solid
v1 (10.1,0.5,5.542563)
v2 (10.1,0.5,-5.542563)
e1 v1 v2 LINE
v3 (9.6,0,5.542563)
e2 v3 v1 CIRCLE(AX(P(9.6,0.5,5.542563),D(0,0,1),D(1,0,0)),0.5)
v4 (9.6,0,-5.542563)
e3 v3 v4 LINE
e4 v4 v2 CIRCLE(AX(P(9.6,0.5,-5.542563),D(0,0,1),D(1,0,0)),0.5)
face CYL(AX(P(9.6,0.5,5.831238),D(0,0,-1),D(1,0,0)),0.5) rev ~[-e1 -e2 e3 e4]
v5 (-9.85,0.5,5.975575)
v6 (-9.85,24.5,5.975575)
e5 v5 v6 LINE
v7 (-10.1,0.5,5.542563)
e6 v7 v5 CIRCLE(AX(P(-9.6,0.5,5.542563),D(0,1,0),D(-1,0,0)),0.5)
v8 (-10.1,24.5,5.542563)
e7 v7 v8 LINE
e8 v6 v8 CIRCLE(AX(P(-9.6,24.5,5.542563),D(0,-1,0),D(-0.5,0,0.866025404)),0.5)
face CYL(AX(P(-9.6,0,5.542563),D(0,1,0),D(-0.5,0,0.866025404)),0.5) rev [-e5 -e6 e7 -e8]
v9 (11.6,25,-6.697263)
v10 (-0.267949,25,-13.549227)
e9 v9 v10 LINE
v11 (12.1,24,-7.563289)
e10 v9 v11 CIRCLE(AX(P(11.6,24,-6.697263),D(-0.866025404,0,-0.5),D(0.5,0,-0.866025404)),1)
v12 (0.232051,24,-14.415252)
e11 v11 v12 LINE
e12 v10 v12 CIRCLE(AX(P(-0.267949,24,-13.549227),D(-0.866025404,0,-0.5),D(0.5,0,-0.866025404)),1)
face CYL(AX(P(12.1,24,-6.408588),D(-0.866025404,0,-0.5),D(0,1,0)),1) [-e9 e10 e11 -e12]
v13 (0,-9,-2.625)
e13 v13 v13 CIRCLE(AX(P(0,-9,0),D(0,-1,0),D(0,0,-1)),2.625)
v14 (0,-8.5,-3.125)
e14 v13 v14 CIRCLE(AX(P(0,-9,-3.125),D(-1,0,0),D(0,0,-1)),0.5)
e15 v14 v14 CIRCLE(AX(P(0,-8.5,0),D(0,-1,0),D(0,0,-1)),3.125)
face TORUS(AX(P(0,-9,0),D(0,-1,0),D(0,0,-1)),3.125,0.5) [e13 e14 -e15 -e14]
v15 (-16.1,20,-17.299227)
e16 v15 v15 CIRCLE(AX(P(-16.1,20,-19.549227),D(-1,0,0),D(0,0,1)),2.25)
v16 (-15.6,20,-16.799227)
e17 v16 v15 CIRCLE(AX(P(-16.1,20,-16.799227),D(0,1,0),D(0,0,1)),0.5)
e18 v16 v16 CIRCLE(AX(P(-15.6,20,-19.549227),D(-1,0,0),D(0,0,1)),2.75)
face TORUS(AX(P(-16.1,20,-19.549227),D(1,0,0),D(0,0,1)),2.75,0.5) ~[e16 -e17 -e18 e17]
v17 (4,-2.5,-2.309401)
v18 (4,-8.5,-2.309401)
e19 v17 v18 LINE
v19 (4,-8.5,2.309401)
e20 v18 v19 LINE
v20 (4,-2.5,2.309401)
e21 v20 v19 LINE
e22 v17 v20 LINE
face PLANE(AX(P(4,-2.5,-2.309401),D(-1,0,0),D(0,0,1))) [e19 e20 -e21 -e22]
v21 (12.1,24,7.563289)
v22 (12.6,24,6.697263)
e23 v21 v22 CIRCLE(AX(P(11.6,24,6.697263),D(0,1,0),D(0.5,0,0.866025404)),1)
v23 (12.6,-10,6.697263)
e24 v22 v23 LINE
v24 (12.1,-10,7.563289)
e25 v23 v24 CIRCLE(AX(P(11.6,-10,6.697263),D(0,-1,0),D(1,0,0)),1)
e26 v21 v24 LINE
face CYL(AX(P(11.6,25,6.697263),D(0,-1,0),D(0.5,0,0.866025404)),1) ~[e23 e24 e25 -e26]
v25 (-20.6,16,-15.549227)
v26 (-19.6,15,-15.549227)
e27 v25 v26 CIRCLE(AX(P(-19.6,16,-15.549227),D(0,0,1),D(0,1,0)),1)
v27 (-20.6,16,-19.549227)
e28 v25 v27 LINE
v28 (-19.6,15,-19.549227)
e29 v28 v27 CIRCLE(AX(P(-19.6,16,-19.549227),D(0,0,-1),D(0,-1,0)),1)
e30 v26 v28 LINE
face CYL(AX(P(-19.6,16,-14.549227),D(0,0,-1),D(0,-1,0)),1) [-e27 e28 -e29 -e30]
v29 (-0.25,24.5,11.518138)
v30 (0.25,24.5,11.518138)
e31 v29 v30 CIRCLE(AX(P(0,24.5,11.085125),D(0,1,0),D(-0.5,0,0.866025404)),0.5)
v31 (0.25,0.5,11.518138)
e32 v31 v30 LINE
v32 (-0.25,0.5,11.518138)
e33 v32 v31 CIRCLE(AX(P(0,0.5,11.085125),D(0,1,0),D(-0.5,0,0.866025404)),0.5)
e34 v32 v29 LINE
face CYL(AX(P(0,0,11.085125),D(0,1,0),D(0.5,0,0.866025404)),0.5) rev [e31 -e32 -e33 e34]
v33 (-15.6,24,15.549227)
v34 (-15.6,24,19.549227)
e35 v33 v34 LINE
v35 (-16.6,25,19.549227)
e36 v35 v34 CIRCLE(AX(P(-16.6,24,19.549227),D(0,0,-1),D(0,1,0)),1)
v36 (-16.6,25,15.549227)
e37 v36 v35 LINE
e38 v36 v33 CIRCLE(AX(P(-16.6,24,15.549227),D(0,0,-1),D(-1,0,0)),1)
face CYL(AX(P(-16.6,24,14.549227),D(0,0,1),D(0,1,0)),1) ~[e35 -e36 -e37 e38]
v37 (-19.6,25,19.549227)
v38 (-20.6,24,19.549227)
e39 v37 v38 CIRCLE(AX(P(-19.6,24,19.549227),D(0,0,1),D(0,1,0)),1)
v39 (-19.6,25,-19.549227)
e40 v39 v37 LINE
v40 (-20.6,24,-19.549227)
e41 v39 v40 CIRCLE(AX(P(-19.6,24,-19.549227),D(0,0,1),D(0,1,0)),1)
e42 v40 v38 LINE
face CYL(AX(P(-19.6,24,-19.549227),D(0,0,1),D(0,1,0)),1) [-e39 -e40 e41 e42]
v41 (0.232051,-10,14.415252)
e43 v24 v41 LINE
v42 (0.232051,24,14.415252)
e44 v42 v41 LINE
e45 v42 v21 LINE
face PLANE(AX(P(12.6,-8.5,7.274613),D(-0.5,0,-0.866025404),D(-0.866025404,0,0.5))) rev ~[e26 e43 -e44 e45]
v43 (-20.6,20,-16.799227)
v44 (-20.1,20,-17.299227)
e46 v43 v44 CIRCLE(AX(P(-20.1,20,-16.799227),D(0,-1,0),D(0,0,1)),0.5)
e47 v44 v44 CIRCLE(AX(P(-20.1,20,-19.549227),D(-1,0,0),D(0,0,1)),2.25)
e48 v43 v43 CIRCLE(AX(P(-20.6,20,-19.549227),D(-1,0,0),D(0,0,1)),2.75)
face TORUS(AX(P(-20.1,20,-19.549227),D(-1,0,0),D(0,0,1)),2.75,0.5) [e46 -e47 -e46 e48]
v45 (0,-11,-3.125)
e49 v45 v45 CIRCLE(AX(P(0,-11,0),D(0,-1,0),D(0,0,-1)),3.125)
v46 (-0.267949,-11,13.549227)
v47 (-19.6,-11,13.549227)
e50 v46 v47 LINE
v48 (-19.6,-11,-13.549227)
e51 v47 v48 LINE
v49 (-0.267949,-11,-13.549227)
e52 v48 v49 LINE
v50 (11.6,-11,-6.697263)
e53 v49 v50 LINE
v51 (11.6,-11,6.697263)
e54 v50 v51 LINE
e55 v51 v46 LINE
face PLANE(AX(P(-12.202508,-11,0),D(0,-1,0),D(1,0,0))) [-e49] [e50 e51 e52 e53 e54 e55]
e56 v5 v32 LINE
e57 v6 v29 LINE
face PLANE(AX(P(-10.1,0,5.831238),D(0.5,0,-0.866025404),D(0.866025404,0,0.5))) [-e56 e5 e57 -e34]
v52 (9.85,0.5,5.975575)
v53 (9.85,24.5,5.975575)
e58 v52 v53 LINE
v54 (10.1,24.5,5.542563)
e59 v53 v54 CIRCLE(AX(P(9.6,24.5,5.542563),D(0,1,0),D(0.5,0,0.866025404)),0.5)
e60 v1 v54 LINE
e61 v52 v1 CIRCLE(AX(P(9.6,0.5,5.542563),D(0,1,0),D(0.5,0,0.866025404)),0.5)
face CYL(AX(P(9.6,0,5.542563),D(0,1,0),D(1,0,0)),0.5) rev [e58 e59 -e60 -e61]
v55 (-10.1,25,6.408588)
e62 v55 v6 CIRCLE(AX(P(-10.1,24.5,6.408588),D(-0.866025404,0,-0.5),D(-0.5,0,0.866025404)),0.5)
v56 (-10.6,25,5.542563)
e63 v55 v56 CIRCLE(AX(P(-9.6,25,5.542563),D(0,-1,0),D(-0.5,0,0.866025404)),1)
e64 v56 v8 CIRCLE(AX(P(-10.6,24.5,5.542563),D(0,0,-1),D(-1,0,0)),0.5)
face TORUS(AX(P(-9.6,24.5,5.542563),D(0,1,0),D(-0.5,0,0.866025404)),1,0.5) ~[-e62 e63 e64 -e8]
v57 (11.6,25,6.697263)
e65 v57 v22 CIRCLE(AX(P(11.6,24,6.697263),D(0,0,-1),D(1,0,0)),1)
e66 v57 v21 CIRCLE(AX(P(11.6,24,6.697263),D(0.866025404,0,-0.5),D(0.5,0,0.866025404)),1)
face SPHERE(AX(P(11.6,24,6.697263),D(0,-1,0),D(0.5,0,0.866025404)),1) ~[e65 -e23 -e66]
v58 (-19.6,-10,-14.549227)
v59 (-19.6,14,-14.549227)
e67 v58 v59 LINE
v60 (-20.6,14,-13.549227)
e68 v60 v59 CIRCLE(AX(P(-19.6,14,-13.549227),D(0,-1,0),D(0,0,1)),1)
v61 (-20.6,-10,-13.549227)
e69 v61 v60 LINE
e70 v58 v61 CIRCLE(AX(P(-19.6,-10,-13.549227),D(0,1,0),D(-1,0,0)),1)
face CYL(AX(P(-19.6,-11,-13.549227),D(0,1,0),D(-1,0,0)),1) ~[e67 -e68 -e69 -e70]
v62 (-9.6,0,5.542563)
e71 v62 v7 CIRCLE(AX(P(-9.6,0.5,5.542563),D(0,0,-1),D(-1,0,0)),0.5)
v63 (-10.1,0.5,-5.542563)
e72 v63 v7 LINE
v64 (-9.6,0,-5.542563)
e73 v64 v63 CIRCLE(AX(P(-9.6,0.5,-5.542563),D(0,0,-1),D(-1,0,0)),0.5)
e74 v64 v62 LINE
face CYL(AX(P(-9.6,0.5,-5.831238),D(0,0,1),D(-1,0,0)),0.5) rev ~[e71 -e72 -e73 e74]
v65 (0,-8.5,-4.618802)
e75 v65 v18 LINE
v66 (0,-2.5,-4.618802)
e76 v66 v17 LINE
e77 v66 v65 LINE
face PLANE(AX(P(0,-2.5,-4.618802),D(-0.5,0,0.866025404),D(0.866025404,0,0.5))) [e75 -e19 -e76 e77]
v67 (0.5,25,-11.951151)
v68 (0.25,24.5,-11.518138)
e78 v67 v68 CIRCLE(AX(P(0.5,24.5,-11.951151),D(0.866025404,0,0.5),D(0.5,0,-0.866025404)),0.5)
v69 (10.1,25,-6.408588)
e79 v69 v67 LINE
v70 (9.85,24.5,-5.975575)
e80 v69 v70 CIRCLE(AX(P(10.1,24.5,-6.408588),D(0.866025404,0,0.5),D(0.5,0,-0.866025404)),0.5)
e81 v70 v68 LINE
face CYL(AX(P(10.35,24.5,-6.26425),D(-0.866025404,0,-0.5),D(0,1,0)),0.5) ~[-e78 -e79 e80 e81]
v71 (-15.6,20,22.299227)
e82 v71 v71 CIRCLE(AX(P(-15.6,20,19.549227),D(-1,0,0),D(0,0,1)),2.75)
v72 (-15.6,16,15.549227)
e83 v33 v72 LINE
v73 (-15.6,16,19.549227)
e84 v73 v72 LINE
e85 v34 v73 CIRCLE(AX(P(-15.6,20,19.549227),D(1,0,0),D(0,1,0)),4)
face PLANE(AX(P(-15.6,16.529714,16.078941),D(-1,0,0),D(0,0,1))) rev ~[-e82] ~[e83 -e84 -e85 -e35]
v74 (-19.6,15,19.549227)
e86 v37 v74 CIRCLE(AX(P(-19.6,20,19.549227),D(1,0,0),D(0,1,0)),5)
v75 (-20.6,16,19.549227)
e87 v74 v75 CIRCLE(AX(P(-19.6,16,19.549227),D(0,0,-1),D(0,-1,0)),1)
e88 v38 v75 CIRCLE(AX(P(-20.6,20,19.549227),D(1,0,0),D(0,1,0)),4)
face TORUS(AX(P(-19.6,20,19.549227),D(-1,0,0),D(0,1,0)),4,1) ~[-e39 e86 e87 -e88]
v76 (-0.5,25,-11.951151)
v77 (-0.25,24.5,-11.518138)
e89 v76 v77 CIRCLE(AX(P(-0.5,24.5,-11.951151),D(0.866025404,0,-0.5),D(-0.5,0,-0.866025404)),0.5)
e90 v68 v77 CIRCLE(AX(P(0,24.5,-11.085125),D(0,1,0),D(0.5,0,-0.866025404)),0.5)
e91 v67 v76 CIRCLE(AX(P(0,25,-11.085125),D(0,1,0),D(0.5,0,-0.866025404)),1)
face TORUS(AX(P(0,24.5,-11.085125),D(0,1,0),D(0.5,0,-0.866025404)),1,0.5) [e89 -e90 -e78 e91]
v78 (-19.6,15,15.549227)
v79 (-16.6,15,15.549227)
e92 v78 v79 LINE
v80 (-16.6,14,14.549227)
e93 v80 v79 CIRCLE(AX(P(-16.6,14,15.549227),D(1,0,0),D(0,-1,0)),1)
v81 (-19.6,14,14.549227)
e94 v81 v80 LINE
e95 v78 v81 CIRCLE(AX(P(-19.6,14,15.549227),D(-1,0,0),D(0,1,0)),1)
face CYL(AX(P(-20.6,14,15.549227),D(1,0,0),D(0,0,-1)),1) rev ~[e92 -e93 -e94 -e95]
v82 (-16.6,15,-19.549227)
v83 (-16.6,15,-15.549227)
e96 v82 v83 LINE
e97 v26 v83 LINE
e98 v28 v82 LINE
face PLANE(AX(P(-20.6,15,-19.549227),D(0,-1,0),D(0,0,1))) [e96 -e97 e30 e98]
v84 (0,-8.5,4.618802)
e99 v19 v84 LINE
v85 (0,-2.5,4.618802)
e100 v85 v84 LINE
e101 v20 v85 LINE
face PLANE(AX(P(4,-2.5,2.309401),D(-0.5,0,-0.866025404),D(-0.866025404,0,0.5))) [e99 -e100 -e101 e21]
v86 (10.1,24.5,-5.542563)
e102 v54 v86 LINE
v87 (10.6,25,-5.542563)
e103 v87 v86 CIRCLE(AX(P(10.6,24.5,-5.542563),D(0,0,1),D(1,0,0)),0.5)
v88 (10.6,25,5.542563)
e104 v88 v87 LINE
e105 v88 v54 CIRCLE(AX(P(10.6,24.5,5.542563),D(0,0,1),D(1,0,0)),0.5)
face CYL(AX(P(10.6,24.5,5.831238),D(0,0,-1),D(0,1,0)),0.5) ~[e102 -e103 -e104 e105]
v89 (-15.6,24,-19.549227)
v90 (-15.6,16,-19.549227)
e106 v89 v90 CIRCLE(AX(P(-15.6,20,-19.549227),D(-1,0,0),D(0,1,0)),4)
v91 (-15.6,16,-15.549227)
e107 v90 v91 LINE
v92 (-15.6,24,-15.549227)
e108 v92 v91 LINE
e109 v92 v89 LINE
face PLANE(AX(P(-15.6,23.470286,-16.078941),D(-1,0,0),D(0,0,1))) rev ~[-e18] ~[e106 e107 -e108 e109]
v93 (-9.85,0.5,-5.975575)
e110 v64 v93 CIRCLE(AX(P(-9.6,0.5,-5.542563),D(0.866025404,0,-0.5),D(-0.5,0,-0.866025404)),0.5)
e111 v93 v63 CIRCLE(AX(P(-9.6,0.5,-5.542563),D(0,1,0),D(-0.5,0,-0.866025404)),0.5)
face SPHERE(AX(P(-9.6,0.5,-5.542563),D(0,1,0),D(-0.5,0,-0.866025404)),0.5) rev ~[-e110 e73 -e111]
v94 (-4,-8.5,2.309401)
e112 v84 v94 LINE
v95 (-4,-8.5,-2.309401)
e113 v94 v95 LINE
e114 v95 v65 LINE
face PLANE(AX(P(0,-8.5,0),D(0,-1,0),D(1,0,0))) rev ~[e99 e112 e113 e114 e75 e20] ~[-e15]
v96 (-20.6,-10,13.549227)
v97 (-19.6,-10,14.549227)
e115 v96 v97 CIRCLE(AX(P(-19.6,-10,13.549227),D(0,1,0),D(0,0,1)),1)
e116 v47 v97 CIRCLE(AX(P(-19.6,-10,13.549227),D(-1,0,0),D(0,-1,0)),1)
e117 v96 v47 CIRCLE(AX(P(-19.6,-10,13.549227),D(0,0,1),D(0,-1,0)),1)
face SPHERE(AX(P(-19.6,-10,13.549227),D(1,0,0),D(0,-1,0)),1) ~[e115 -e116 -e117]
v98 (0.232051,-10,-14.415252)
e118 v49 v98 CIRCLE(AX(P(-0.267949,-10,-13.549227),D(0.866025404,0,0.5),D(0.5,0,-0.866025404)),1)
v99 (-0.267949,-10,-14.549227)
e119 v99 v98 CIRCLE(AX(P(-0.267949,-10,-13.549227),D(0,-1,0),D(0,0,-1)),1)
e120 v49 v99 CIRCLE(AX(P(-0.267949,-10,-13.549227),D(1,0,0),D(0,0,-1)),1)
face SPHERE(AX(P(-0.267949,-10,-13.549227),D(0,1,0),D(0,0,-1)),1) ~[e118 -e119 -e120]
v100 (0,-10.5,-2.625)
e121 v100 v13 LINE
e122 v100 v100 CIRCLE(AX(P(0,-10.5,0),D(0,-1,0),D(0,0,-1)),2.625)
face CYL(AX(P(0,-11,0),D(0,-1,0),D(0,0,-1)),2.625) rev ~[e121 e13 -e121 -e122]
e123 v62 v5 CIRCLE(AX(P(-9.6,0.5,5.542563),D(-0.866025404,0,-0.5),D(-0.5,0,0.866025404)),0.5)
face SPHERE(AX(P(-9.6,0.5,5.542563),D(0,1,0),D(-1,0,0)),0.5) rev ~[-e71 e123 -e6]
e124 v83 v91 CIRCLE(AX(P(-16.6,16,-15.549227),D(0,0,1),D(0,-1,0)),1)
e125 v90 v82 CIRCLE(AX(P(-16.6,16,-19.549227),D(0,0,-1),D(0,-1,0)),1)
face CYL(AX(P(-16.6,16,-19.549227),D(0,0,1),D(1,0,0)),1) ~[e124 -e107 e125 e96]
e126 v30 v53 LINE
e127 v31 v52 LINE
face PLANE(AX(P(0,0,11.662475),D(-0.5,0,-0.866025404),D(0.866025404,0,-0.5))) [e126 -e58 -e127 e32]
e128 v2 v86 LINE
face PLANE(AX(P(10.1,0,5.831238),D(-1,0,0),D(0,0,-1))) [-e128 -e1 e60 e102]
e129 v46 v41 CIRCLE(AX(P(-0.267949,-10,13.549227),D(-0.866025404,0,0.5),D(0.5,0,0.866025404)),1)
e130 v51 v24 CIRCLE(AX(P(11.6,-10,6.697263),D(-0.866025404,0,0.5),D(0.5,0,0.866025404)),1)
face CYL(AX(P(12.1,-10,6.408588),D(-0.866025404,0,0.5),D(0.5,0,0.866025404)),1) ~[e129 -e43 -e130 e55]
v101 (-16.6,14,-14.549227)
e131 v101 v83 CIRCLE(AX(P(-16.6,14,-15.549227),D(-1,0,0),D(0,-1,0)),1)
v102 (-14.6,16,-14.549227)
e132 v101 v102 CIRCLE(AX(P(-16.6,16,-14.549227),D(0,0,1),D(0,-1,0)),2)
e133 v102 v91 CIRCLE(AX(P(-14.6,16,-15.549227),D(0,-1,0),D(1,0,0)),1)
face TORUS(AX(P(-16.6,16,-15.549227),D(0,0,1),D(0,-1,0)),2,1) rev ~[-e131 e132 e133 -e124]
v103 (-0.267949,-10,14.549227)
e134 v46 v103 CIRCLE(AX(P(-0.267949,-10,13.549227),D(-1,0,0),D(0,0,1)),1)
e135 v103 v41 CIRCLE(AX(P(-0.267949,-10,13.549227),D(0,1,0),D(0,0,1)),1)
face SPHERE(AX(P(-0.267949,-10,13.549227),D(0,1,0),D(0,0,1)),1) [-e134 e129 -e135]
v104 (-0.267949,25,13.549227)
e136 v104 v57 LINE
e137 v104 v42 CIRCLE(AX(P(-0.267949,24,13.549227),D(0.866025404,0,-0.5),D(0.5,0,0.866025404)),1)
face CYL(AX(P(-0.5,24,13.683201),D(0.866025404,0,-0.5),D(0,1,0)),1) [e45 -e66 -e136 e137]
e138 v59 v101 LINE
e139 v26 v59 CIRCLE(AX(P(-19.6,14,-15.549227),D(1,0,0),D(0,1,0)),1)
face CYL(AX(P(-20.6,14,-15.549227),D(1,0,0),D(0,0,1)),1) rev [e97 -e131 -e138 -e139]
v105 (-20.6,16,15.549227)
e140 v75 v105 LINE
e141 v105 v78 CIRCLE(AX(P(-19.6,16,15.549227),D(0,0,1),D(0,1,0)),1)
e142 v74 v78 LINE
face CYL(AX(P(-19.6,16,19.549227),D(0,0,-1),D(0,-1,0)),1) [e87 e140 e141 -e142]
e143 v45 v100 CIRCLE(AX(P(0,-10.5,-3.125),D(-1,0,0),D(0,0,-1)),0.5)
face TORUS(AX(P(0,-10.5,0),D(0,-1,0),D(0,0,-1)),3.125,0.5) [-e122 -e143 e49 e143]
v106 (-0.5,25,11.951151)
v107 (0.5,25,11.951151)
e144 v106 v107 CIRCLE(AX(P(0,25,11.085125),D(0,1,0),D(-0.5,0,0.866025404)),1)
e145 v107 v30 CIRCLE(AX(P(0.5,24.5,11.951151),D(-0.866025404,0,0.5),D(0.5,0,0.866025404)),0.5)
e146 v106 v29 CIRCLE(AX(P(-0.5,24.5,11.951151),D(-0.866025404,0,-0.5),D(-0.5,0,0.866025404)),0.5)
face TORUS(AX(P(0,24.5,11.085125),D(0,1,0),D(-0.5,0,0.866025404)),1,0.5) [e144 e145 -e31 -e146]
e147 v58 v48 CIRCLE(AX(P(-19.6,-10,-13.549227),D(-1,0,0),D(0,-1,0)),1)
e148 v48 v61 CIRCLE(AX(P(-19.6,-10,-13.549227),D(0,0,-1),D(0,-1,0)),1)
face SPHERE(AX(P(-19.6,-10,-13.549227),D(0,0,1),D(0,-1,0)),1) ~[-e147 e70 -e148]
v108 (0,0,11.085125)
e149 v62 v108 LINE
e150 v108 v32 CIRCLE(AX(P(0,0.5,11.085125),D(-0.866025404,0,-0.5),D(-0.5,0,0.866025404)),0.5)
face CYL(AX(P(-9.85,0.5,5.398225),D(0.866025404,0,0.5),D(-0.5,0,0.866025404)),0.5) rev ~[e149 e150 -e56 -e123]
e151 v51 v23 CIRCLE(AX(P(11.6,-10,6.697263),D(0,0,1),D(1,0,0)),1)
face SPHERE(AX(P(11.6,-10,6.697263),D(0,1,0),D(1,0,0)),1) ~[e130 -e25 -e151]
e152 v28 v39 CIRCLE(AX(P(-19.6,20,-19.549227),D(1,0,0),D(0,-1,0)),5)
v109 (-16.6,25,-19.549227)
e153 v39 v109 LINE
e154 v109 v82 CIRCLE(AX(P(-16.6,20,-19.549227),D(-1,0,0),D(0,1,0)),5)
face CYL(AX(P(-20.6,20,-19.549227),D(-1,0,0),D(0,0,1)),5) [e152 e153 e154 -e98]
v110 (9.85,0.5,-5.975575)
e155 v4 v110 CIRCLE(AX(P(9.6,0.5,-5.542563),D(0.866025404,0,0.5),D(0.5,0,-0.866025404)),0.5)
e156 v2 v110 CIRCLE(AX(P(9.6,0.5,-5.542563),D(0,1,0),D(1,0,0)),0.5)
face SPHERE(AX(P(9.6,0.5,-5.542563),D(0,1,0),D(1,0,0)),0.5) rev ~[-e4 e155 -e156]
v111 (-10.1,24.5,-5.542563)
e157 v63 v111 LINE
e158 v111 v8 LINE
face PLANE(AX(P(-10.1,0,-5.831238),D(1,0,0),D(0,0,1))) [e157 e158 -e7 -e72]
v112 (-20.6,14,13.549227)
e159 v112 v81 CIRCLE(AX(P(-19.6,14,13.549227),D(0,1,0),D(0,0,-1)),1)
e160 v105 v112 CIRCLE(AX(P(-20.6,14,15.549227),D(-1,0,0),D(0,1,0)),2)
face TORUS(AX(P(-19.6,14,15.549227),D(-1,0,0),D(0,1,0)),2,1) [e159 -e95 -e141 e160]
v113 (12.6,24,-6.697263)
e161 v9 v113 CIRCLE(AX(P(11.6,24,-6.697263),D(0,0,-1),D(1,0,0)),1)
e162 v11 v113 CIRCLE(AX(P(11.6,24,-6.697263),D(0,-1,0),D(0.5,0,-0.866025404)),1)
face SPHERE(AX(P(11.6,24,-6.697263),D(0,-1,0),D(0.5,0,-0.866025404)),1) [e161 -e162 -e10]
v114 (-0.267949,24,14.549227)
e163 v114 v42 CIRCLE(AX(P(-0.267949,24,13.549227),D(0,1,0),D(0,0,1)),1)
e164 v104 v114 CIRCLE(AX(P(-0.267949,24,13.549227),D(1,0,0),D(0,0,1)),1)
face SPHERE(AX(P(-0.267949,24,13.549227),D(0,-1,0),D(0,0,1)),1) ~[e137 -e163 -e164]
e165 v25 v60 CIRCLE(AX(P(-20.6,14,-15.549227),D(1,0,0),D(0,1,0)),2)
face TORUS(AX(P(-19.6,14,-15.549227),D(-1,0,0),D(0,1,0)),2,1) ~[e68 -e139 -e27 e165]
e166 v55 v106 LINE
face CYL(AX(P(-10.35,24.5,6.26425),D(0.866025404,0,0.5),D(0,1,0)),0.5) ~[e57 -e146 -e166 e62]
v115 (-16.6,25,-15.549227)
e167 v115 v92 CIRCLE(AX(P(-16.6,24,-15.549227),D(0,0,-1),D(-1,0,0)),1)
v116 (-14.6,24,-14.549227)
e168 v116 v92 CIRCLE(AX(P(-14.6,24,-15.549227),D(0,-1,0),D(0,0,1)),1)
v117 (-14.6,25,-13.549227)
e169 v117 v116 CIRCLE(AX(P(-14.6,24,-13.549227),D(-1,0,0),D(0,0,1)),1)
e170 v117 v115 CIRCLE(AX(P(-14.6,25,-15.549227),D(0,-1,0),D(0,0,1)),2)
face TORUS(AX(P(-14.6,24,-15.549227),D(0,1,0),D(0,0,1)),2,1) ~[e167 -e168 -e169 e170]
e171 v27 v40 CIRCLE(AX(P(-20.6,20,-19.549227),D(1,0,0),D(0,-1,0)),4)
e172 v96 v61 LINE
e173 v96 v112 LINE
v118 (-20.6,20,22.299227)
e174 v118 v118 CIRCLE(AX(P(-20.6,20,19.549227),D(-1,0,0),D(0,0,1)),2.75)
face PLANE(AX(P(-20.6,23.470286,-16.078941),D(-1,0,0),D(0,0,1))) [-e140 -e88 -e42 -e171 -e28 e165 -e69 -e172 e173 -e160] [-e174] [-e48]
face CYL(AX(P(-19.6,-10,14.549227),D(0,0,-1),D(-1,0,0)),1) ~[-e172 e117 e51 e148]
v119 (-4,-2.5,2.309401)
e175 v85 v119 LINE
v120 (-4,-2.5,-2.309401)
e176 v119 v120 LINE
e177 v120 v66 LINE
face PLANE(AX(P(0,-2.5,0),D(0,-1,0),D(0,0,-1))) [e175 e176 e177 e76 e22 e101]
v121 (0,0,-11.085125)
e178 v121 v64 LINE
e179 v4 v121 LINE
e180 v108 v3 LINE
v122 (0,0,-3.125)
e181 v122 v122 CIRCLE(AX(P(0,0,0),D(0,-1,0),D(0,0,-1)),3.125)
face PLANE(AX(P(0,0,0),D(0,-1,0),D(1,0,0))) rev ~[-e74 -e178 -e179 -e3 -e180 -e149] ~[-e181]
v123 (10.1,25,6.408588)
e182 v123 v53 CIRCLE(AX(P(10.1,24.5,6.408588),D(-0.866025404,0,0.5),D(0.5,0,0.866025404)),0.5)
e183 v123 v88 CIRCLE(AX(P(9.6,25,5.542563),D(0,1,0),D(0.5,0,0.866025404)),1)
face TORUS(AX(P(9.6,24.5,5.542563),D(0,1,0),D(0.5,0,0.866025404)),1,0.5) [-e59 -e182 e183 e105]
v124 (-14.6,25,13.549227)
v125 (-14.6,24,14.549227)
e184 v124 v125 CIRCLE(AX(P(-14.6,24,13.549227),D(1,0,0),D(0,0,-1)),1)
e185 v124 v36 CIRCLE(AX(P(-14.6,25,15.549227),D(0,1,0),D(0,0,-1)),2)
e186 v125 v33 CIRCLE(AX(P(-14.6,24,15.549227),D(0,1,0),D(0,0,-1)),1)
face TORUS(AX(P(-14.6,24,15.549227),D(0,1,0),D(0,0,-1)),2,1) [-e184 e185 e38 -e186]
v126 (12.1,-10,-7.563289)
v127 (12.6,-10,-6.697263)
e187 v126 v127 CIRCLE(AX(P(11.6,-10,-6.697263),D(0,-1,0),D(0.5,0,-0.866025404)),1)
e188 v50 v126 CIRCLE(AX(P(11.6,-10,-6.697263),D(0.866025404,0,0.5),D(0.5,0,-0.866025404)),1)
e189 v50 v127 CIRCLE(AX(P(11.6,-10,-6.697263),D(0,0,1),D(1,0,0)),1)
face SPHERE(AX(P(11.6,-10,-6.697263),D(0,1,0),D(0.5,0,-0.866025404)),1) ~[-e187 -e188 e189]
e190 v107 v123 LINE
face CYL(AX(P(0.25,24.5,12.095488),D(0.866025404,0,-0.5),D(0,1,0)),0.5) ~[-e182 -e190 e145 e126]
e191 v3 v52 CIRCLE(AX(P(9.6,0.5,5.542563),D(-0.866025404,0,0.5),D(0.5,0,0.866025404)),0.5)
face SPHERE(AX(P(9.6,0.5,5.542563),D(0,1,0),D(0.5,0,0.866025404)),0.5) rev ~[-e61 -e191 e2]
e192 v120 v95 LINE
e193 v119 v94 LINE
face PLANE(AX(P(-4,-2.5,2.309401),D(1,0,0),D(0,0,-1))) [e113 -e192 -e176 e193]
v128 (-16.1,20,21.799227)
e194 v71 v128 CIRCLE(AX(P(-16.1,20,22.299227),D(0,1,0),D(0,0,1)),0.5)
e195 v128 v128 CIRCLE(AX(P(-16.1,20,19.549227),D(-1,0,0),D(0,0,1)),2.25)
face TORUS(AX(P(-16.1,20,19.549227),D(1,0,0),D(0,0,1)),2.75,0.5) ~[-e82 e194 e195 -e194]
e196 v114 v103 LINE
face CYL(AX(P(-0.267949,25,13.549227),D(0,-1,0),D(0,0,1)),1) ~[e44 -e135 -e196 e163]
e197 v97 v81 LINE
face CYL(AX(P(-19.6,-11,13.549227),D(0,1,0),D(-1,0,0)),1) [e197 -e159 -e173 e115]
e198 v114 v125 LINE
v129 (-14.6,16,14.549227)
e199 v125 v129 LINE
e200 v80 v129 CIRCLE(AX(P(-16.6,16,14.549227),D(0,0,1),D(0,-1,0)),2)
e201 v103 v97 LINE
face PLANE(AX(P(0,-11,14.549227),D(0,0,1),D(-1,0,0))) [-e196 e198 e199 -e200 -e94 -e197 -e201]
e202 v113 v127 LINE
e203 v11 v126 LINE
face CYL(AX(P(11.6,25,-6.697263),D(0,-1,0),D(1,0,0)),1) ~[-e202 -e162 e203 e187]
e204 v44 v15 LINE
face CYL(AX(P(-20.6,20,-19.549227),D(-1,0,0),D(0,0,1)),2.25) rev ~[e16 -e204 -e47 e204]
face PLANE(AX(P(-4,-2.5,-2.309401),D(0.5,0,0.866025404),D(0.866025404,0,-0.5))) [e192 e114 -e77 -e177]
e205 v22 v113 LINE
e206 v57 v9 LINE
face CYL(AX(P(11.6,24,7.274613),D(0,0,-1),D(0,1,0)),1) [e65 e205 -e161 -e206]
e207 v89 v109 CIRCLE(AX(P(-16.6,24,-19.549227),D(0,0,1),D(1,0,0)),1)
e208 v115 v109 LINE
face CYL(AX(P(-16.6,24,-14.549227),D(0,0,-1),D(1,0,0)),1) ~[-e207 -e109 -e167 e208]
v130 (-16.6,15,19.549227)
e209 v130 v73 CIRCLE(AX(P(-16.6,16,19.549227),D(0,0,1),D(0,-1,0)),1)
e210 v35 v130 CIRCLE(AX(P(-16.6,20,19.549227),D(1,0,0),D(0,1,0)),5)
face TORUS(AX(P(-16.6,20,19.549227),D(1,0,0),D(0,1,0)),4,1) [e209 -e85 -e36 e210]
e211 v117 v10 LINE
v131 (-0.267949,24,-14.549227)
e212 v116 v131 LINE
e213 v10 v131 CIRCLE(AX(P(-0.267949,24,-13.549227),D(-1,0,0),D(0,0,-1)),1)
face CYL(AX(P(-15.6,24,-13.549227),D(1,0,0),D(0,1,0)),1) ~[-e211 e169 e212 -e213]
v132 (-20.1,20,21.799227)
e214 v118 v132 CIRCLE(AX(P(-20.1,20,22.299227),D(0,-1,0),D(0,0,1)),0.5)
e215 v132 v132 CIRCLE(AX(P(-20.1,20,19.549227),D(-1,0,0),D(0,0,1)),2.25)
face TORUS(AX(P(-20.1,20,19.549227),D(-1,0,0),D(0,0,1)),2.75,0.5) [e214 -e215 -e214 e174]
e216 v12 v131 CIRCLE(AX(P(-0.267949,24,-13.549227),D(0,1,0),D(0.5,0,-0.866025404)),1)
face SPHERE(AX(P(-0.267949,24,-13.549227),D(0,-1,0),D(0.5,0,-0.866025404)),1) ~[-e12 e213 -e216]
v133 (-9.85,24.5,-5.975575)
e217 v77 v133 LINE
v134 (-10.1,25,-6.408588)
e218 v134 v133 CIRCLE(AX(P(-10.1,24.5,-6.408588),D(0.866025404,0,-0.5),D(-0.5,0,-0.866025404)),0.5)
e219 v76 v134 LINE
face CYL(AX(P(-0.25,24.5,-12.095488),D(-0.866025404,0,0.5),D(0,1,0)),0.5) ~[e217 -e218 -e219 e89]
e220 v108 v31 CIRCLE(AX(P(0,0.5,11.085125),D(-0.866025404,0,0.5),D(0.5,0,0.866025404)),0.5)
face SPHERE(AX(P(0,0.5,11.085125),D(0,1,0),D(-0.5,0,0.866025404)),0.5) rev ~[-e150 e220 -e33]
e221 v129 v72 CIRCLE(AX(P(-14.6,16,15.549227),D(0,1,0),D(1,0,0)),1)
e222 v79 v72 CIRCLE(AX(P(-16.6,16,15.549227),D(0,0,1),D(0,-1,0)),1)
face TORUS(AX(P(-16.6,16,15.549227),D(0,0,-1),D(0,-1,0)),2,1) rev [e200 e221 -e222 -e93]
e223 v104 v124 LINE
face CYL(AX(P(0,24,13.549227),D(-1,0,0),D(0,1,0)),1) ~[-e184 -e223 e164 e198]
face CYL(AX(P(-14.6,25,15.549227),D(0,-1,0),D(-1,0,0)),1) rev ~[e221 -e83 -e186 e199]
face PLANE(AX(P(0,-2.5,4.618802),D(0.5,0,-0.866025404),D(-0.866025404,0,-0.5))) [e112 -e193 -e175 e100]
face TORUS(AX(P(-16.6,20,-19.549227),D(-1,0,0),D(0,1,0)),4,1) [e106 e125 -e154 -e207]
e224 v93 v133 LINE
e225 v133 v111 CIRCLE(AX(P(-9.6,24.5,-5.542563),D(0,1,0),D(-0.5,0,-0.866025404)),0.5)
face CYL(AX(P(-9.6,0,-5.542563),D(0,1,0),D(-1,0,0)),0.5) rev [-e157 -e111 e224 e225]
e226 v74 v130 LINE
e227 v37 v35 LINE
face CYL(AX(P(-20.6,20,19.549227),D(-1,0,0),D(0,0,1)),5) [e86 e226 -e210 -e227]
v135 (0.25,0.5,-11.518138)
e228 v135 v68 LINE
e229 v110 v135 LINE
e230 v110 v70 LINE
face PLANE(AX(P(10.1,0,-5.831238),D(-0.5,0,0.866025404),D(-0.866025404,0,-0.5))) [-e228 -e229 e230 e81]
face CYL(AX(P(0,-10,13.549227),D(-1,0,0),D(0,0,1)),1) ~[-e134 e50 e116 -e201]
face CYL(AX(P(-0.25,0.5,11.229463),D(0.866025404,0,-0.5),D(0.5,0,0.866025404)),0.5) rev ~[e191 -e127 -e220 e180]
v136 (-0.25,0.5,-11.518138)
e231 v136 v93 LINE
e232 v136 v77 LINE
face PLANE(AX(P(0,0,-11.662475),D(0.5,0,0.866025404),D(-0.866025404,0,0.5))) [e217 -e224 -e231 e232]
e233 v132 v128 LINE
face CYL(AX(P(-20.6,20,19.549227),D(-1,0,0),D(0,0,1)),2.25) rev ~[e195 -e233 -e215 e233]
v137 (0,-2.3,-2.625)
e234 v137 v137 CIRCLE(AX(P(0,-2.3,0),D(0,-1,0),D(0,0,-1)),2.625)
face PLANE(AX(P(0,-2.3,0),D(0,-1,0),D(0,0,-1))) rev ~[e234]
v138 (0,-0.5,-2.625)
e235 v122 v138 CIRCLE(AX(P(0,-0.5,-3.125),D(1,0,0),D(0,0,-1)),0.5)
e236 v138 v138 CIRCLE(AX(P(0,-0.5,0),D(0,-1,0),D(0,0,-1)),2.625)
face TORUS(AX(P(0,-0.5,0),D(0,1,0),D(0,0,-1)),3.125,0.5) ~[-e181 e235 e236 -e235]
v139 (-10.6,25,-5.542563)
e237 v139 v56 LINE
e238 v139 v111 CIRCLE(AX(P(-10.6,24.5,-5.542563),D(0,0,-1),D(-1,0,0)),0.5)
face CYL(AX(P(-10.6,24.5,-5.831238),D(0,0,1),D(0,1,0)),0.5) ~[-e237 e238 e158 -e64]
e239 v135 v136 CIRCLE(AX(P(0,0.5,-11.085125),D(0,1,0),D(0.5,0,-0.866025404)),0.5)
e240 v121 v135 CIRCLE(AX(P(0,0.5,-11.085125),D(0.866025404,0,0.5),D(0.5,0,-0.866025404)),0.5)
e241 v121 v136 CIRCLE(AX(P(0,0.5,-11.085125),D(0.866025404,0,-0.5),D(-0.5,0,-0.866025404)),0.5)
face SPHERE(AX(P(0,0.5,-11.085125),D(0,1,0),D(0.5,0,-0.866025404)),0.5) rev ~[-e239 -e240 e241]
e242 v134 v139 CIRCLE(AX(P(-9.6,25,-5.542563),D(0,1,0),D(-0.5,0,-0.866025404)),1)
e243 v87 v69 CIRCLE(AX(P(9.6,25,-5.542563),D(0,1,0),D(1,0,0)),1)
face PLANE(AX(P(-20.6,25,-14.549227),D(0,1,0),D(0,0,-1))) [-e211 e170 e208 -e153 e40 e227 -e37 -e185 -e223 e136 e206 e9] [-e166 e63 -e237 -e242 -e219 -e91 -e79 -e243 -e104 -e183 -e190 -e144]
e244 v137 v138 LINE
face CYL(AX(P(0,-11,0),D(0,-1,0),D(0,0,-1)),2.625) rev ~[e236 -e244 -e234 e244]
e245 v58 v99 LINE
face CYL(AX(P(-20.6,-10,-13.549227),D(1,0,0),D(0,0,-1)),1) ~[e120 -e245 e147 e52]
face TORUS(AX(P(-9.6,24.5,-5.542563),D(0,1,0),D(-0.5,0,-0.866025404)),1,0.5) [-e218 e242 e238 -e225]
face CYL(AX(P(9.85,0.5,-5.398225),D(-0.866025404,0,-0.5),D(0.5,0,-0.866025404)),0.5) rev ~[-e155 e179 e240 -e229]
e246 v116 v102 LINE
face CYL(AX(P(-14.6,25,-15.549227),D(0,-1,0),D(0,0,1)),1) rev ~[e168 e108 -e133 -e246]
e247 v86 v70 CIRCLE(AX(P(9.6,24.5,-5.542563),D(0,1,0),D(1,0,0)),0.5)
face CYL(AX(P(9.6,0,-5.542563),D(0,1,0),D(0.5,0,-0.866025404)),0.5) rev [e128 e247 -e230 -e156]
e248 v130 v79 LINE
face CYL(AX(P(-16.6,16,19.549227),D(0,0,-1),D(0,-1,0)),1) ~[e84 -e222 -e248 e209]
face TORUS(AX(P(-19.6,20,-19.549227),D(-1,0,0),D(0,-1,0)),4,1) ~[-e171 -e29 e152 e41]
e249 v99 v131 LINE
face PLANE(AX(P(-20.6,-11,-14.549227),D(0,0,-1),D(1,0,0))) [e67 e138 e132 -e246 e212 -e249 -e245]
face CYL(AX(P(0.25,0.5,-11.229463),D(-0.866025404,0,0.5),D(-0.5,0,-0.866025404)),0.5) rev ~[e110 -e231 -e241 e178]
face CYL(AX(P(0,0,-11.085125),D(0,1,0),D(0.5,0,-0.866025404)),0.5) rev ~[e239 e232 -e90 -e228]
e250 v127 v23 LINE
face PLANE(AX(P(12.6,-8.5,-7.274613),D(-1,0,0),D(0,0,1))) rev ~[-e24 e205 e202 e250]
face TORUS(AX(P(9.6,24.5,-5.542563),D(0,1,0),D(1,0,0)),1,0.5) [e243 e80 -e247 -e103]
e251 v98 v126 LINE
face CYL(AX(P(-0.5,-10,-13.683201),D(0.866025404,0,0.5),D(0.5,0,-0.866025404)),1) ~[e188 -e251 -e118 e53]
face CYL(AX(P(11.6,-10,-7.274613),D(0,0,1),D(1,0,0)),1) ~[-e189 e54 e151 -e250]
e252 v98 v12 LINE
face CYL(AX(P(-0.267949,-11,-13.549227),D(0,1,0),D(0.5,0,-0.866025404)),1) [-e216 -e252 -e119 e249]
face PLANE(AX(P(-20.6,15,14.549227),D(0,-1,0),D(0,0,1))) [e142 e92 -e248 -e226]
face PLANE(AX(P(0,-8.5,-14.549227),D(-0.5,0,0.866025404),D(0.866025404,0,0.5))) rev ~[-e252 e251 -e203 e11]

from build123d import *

# Parameters (mm, degrees)
BOSS_EXTRUDE1_DEPTH = 25
BOSS_EXTRUDE2_DEPTH = 2.5
BOSS_EXTRUDE3_DEPTH = 6
BOSS_EXTRUDE4_DEPTH = 2.5
SKETCH5_R           = 2.625
CUT_EXTRUDE1_DEPTH  = 41.822052864
BOSS_EXTRUDE5_DEPTH = 36
SKETCH7_R           = 5
SKETCH7_R_2         = 2.25
BOSS_EXTRUDE6_DEPTH = 5
SKETCH8_R           = 2.625
BOSS_EXTRUDE7_DEPTH = 0.2
FILLET1_R           = 0.5
FILLET2_R           = 1
FILLET3_R           = 0.5


with BuildPart() as part:
    # Sketch1 → Boss-Extrude1 (new body)
    with BuildSketch(Plane(origin=(0, 0, 0), x_dir=(1, 0, 0), z_dir=(0, 1, 0))):
        Polygon((12.6, -7.274613392), (12.6, 7.274613392), (0, 14.549226784), (-12.6, 7.274613392), (-12.6, -7.274613392), (0, -14.549226784), align=None)
        Polygon((0, -11.662475438), (10.1, -5.831237719), (10.1, 5.831237719), (0, 11.662475438), (-10.1, 5.831237719), (-10.1, -5.831237719), align=None, mode=Mode.SUBTRACT)
    extrude(amount=BOSS_EXTRUDE1_DEPTH)

    # Sketch2 → Boss-Extrude2 (add)
    with BuildSketch(Plane.XZ):
        Polygon((0, -14.549226784), (12.6, -7.274613392), (12.6, 7.274613392), (0, 14.549226784), (-12.6, 7.274613392), (-12.6, -7.274613392), align=None)
    extrude(amount=BOSS_EXTRUDE2_DEPTH)

    # Sketch3 → Boss-Extrude3 (add)
    with BuildSketch(Plane.XZ.offset(2.5)):
        Polygon((0, -14.549226784), (12.6, -7.274613392), (12.6, 7.274613392), (0, 14.549226784), (-12.6, 7.274613392), (-12.6, -7.274613392), align=None)
        Polygon((0, -4.618802154), (4, -2.309401077), (4, 2.309401077), (0, 4.618802154), (-4, 2.309401077), (-4, -2.309401077), align=None, mode=Mode.SUBTRACT)
    extrude(amount=BOSS_EXTRUDE3_DEPTH)

    # Sketch4 → Boss-Extrude4 (add)
    with BuildSketch(Plane.XZ.offset(8.5)):
        Polygon((0, -14.549226784), (12.6, -7.274613392), (12.6, 7.274613392), (0, 14.549226784), (-12.6, 7.274613392), (-12.6, -7.274613392), align=None)
    extrude(amount=BOSS_EXTRUDE4_DEPTH)

    # Sketch5 → Cut-Extrude1 (cut, through all)
    with BuildSketch(Plane.XZ.offset(11)):
        with Locations(Location((0, 0, 0), (0, 0, 270))):
            Circle(SKETCH5_R)
    extrude(amount=-CUT_EXTRUDE1_DEPTH, mode=Mode.SUBTRACT)

    # Sketch6 → Boss-Extrude5 (add)
    with BuildSketch(Plane.XZ.offset(11)):
        Polygon((0, 14.549226784), (-20.6, 14.549226784), (-20.6, -14.549226784), (0, -14.549226784), (-12.6, -7.274613392), (-12.6, 7.274613392), align=None)
    extrude(amount=-BOSS_EXTRUDE5_DEPTH)

    # Sketch7 → Boss-Extrude6 (add)
    # profile 1 of 6: a face of its own
    with BuildSketch(Plane.ZY.offset(20.6)):
        with BuildLine():
            Line((-14.549226784, 25), (-19.549226784, 25))
            ThreePointArc((-19.549226784, 25), (-16.013692878, 23.535533906), (-14.549226784, 20))
            Line((-14.549226784, 20), (-14.549226784, 25))
        make_face()
    # profile 2 of 6: a face of its own
    with BuildSketch(Plane.ZY.offset(20.6)):
        with BuildLine():
            Line((-14.549226784, 15), (-14.549226784, 20))
            ThreePointArc((-14.549226784, 20), (-16.013692878, 16.464466094), (-19.549226784, 15))
            Line((-19.549226784, 15), (-14.549226784, 15))
        make_face()
    # profile 3 of 6: a face of its own
    with BuildSketch(Plane.ZY.offset(20.6)):
        with Locations((-19.549226784, 20)):
            Circle(SKETCH7_R)
        with Locations((-19.549226784, 20)):
            Circle(SKETCH7_R_2, mode=Mode.SUBTRACT)
    # profile 4 of 6: a face of its own
    with BuildSketch(Plane.ZY.offset(20.6)):
        with Locations((19.549226784, 20)):
            Circle(SKETCH7_R)
        with Locations((19.549226784, 20)):
            Circle(SKETCH7_R_2, mode=Mode.SUBTRACT)
    # profile 5 of 6: a face of its own
    with BuildSketch(Plane.ZY.offset(20.6)):
        with BuildLine():
            ThreePointArc((19.549226784, 15), (16.013692871, 16.464466101), (14.549226784, 20.000000019))
            Line((14.549226784, 20.000000019), (14.549226784, 15))
            Line((14.549226784, 15), (19.549226784, 15))
        make_face()
    # profile 6 of 6: a face of its own
    with BuildSketch(Plane.ZY.offset(20.6)):
        with BuildLine():
            Line((19.549226784, 25), (14.549226784, 25))
            Line((14.549226784, 25), (14.549226784, 20.000000019))
            ThreePointArc((14.549226784, 20.000000019), (16.013692884, 23.535533913), (19.549226784, 25))
        make_face()
    extrude(amount=-BOSS_EXTRUDE6_DEPTH)

    # Sketch8 → Boss-Extrude7 (add)
    with BuildSketch(Plane.XZ.offset(2.5)):
        with Locations(Location((0, 0, 0), (0, 0, 270))):
            Circle(SKETCH8_R)
    extrude(amount=-BOSS_EXTRUDE7_DEPTH)

    # Fillet1
    fillet1_edges = [part.edges().sort_by_distance(p)[0] for p in [
        (0, 0, 2.625),
        (-5.05, 0, 8.746856578),
        (-10.1, 12.5, 5.831237719),
        (5.05, 0, 8.746856578),
        (0, 12.5, 11.662475438),
        (10.1, 0, 0),
        (10.1, 12.5, 5.831237719),
        (5.05, 0, -8.746856578),
        (10.1, 12.5, -5.831237719),
        (-5.05, 0, -8.746856578),
        (0, 12.5, -11.662475438),
        (-10.1, 0, 0),
        (-10.1, 12.5, -5.831237719),
        (-5.05, 25, 8.746856578),
        (5.05, 25, 8.746856578),
        (10.1, 25, 0),
        (5.05, 25, -8.746856578),
        (-5.05, 25, -8.746856578),
        (-10.1, 25, 0),
    ]]
    fillet(fillet1_edges, radius=FILLET1_R)

    # Fillet2
    fillet2_edges = [part.edges().sort_by_distance(p)[0] for p in [
        (0, 7, 14.549226784),
        (0, 7, -14.549226784),
        (12.6, 7, -7.274613392),
        (12.6, 7, 7.274613392),
        (-10.3, -11, 14.549226784),
        (-20.6, -11, 0),
        (-10.3, -11, -14.549226784),
        (-7.8, 25, 14.549226784),
        (-20.6, 25, 0),
        (6.3, 25, -10.911920088),
        (-20.6, 2, -14.549226784),
        (-7.8, 25, -14.549226784),
        (-15.6, 15, -17.049226784),
        (-18.1, 15, -14.549226784),
        (-15.6, 20, -24.549226784),
        (-15.6, 25, -17.049226784),
        (-15.6, 20, -14.549226784),
        (-20.6, 20, -24.549226784),
        (-20.6, 15, -17.049226784),
        (-20.6, 2, 14.549226784),
        (-15.6, 20, 24.549226784),
        (-15.6, 15, 17.049226784),
        (-18.1, 15, 14.549226784),
        (-15.6, 20, 14.549226784),
        (-15.6, 25, 17.049226784),
        (-20.6, 20, 24.549226784),
        (-20.6, 15, 17.049226784),
        (6.3, 25, 10.911920088),
        (12.6, 25, 0),
        (6.3, -11, -10.911920088),
        (12.6, -11, 0),
        (6.3, -11, 10.911920088),
    ]]
    fillet(fillet2_edges, radius=FILLET2_R)

    # Fillet3
    fillet3_edges = [part.edges().sort_by_distance(p)[0] for p in [
        (0, -8.5, 2.625),
        (0, -11, 2.625),
        (-20.6, 20, -21.799226784),
        (-15.6, 20, -21.799226784),
        (-20.6, 20, 17.299226784),
        (-15.6, 20, 17.299226784),
    ]]
    fillet(fillet3_edges, radius=FILLET3_R)


solid = part.part
